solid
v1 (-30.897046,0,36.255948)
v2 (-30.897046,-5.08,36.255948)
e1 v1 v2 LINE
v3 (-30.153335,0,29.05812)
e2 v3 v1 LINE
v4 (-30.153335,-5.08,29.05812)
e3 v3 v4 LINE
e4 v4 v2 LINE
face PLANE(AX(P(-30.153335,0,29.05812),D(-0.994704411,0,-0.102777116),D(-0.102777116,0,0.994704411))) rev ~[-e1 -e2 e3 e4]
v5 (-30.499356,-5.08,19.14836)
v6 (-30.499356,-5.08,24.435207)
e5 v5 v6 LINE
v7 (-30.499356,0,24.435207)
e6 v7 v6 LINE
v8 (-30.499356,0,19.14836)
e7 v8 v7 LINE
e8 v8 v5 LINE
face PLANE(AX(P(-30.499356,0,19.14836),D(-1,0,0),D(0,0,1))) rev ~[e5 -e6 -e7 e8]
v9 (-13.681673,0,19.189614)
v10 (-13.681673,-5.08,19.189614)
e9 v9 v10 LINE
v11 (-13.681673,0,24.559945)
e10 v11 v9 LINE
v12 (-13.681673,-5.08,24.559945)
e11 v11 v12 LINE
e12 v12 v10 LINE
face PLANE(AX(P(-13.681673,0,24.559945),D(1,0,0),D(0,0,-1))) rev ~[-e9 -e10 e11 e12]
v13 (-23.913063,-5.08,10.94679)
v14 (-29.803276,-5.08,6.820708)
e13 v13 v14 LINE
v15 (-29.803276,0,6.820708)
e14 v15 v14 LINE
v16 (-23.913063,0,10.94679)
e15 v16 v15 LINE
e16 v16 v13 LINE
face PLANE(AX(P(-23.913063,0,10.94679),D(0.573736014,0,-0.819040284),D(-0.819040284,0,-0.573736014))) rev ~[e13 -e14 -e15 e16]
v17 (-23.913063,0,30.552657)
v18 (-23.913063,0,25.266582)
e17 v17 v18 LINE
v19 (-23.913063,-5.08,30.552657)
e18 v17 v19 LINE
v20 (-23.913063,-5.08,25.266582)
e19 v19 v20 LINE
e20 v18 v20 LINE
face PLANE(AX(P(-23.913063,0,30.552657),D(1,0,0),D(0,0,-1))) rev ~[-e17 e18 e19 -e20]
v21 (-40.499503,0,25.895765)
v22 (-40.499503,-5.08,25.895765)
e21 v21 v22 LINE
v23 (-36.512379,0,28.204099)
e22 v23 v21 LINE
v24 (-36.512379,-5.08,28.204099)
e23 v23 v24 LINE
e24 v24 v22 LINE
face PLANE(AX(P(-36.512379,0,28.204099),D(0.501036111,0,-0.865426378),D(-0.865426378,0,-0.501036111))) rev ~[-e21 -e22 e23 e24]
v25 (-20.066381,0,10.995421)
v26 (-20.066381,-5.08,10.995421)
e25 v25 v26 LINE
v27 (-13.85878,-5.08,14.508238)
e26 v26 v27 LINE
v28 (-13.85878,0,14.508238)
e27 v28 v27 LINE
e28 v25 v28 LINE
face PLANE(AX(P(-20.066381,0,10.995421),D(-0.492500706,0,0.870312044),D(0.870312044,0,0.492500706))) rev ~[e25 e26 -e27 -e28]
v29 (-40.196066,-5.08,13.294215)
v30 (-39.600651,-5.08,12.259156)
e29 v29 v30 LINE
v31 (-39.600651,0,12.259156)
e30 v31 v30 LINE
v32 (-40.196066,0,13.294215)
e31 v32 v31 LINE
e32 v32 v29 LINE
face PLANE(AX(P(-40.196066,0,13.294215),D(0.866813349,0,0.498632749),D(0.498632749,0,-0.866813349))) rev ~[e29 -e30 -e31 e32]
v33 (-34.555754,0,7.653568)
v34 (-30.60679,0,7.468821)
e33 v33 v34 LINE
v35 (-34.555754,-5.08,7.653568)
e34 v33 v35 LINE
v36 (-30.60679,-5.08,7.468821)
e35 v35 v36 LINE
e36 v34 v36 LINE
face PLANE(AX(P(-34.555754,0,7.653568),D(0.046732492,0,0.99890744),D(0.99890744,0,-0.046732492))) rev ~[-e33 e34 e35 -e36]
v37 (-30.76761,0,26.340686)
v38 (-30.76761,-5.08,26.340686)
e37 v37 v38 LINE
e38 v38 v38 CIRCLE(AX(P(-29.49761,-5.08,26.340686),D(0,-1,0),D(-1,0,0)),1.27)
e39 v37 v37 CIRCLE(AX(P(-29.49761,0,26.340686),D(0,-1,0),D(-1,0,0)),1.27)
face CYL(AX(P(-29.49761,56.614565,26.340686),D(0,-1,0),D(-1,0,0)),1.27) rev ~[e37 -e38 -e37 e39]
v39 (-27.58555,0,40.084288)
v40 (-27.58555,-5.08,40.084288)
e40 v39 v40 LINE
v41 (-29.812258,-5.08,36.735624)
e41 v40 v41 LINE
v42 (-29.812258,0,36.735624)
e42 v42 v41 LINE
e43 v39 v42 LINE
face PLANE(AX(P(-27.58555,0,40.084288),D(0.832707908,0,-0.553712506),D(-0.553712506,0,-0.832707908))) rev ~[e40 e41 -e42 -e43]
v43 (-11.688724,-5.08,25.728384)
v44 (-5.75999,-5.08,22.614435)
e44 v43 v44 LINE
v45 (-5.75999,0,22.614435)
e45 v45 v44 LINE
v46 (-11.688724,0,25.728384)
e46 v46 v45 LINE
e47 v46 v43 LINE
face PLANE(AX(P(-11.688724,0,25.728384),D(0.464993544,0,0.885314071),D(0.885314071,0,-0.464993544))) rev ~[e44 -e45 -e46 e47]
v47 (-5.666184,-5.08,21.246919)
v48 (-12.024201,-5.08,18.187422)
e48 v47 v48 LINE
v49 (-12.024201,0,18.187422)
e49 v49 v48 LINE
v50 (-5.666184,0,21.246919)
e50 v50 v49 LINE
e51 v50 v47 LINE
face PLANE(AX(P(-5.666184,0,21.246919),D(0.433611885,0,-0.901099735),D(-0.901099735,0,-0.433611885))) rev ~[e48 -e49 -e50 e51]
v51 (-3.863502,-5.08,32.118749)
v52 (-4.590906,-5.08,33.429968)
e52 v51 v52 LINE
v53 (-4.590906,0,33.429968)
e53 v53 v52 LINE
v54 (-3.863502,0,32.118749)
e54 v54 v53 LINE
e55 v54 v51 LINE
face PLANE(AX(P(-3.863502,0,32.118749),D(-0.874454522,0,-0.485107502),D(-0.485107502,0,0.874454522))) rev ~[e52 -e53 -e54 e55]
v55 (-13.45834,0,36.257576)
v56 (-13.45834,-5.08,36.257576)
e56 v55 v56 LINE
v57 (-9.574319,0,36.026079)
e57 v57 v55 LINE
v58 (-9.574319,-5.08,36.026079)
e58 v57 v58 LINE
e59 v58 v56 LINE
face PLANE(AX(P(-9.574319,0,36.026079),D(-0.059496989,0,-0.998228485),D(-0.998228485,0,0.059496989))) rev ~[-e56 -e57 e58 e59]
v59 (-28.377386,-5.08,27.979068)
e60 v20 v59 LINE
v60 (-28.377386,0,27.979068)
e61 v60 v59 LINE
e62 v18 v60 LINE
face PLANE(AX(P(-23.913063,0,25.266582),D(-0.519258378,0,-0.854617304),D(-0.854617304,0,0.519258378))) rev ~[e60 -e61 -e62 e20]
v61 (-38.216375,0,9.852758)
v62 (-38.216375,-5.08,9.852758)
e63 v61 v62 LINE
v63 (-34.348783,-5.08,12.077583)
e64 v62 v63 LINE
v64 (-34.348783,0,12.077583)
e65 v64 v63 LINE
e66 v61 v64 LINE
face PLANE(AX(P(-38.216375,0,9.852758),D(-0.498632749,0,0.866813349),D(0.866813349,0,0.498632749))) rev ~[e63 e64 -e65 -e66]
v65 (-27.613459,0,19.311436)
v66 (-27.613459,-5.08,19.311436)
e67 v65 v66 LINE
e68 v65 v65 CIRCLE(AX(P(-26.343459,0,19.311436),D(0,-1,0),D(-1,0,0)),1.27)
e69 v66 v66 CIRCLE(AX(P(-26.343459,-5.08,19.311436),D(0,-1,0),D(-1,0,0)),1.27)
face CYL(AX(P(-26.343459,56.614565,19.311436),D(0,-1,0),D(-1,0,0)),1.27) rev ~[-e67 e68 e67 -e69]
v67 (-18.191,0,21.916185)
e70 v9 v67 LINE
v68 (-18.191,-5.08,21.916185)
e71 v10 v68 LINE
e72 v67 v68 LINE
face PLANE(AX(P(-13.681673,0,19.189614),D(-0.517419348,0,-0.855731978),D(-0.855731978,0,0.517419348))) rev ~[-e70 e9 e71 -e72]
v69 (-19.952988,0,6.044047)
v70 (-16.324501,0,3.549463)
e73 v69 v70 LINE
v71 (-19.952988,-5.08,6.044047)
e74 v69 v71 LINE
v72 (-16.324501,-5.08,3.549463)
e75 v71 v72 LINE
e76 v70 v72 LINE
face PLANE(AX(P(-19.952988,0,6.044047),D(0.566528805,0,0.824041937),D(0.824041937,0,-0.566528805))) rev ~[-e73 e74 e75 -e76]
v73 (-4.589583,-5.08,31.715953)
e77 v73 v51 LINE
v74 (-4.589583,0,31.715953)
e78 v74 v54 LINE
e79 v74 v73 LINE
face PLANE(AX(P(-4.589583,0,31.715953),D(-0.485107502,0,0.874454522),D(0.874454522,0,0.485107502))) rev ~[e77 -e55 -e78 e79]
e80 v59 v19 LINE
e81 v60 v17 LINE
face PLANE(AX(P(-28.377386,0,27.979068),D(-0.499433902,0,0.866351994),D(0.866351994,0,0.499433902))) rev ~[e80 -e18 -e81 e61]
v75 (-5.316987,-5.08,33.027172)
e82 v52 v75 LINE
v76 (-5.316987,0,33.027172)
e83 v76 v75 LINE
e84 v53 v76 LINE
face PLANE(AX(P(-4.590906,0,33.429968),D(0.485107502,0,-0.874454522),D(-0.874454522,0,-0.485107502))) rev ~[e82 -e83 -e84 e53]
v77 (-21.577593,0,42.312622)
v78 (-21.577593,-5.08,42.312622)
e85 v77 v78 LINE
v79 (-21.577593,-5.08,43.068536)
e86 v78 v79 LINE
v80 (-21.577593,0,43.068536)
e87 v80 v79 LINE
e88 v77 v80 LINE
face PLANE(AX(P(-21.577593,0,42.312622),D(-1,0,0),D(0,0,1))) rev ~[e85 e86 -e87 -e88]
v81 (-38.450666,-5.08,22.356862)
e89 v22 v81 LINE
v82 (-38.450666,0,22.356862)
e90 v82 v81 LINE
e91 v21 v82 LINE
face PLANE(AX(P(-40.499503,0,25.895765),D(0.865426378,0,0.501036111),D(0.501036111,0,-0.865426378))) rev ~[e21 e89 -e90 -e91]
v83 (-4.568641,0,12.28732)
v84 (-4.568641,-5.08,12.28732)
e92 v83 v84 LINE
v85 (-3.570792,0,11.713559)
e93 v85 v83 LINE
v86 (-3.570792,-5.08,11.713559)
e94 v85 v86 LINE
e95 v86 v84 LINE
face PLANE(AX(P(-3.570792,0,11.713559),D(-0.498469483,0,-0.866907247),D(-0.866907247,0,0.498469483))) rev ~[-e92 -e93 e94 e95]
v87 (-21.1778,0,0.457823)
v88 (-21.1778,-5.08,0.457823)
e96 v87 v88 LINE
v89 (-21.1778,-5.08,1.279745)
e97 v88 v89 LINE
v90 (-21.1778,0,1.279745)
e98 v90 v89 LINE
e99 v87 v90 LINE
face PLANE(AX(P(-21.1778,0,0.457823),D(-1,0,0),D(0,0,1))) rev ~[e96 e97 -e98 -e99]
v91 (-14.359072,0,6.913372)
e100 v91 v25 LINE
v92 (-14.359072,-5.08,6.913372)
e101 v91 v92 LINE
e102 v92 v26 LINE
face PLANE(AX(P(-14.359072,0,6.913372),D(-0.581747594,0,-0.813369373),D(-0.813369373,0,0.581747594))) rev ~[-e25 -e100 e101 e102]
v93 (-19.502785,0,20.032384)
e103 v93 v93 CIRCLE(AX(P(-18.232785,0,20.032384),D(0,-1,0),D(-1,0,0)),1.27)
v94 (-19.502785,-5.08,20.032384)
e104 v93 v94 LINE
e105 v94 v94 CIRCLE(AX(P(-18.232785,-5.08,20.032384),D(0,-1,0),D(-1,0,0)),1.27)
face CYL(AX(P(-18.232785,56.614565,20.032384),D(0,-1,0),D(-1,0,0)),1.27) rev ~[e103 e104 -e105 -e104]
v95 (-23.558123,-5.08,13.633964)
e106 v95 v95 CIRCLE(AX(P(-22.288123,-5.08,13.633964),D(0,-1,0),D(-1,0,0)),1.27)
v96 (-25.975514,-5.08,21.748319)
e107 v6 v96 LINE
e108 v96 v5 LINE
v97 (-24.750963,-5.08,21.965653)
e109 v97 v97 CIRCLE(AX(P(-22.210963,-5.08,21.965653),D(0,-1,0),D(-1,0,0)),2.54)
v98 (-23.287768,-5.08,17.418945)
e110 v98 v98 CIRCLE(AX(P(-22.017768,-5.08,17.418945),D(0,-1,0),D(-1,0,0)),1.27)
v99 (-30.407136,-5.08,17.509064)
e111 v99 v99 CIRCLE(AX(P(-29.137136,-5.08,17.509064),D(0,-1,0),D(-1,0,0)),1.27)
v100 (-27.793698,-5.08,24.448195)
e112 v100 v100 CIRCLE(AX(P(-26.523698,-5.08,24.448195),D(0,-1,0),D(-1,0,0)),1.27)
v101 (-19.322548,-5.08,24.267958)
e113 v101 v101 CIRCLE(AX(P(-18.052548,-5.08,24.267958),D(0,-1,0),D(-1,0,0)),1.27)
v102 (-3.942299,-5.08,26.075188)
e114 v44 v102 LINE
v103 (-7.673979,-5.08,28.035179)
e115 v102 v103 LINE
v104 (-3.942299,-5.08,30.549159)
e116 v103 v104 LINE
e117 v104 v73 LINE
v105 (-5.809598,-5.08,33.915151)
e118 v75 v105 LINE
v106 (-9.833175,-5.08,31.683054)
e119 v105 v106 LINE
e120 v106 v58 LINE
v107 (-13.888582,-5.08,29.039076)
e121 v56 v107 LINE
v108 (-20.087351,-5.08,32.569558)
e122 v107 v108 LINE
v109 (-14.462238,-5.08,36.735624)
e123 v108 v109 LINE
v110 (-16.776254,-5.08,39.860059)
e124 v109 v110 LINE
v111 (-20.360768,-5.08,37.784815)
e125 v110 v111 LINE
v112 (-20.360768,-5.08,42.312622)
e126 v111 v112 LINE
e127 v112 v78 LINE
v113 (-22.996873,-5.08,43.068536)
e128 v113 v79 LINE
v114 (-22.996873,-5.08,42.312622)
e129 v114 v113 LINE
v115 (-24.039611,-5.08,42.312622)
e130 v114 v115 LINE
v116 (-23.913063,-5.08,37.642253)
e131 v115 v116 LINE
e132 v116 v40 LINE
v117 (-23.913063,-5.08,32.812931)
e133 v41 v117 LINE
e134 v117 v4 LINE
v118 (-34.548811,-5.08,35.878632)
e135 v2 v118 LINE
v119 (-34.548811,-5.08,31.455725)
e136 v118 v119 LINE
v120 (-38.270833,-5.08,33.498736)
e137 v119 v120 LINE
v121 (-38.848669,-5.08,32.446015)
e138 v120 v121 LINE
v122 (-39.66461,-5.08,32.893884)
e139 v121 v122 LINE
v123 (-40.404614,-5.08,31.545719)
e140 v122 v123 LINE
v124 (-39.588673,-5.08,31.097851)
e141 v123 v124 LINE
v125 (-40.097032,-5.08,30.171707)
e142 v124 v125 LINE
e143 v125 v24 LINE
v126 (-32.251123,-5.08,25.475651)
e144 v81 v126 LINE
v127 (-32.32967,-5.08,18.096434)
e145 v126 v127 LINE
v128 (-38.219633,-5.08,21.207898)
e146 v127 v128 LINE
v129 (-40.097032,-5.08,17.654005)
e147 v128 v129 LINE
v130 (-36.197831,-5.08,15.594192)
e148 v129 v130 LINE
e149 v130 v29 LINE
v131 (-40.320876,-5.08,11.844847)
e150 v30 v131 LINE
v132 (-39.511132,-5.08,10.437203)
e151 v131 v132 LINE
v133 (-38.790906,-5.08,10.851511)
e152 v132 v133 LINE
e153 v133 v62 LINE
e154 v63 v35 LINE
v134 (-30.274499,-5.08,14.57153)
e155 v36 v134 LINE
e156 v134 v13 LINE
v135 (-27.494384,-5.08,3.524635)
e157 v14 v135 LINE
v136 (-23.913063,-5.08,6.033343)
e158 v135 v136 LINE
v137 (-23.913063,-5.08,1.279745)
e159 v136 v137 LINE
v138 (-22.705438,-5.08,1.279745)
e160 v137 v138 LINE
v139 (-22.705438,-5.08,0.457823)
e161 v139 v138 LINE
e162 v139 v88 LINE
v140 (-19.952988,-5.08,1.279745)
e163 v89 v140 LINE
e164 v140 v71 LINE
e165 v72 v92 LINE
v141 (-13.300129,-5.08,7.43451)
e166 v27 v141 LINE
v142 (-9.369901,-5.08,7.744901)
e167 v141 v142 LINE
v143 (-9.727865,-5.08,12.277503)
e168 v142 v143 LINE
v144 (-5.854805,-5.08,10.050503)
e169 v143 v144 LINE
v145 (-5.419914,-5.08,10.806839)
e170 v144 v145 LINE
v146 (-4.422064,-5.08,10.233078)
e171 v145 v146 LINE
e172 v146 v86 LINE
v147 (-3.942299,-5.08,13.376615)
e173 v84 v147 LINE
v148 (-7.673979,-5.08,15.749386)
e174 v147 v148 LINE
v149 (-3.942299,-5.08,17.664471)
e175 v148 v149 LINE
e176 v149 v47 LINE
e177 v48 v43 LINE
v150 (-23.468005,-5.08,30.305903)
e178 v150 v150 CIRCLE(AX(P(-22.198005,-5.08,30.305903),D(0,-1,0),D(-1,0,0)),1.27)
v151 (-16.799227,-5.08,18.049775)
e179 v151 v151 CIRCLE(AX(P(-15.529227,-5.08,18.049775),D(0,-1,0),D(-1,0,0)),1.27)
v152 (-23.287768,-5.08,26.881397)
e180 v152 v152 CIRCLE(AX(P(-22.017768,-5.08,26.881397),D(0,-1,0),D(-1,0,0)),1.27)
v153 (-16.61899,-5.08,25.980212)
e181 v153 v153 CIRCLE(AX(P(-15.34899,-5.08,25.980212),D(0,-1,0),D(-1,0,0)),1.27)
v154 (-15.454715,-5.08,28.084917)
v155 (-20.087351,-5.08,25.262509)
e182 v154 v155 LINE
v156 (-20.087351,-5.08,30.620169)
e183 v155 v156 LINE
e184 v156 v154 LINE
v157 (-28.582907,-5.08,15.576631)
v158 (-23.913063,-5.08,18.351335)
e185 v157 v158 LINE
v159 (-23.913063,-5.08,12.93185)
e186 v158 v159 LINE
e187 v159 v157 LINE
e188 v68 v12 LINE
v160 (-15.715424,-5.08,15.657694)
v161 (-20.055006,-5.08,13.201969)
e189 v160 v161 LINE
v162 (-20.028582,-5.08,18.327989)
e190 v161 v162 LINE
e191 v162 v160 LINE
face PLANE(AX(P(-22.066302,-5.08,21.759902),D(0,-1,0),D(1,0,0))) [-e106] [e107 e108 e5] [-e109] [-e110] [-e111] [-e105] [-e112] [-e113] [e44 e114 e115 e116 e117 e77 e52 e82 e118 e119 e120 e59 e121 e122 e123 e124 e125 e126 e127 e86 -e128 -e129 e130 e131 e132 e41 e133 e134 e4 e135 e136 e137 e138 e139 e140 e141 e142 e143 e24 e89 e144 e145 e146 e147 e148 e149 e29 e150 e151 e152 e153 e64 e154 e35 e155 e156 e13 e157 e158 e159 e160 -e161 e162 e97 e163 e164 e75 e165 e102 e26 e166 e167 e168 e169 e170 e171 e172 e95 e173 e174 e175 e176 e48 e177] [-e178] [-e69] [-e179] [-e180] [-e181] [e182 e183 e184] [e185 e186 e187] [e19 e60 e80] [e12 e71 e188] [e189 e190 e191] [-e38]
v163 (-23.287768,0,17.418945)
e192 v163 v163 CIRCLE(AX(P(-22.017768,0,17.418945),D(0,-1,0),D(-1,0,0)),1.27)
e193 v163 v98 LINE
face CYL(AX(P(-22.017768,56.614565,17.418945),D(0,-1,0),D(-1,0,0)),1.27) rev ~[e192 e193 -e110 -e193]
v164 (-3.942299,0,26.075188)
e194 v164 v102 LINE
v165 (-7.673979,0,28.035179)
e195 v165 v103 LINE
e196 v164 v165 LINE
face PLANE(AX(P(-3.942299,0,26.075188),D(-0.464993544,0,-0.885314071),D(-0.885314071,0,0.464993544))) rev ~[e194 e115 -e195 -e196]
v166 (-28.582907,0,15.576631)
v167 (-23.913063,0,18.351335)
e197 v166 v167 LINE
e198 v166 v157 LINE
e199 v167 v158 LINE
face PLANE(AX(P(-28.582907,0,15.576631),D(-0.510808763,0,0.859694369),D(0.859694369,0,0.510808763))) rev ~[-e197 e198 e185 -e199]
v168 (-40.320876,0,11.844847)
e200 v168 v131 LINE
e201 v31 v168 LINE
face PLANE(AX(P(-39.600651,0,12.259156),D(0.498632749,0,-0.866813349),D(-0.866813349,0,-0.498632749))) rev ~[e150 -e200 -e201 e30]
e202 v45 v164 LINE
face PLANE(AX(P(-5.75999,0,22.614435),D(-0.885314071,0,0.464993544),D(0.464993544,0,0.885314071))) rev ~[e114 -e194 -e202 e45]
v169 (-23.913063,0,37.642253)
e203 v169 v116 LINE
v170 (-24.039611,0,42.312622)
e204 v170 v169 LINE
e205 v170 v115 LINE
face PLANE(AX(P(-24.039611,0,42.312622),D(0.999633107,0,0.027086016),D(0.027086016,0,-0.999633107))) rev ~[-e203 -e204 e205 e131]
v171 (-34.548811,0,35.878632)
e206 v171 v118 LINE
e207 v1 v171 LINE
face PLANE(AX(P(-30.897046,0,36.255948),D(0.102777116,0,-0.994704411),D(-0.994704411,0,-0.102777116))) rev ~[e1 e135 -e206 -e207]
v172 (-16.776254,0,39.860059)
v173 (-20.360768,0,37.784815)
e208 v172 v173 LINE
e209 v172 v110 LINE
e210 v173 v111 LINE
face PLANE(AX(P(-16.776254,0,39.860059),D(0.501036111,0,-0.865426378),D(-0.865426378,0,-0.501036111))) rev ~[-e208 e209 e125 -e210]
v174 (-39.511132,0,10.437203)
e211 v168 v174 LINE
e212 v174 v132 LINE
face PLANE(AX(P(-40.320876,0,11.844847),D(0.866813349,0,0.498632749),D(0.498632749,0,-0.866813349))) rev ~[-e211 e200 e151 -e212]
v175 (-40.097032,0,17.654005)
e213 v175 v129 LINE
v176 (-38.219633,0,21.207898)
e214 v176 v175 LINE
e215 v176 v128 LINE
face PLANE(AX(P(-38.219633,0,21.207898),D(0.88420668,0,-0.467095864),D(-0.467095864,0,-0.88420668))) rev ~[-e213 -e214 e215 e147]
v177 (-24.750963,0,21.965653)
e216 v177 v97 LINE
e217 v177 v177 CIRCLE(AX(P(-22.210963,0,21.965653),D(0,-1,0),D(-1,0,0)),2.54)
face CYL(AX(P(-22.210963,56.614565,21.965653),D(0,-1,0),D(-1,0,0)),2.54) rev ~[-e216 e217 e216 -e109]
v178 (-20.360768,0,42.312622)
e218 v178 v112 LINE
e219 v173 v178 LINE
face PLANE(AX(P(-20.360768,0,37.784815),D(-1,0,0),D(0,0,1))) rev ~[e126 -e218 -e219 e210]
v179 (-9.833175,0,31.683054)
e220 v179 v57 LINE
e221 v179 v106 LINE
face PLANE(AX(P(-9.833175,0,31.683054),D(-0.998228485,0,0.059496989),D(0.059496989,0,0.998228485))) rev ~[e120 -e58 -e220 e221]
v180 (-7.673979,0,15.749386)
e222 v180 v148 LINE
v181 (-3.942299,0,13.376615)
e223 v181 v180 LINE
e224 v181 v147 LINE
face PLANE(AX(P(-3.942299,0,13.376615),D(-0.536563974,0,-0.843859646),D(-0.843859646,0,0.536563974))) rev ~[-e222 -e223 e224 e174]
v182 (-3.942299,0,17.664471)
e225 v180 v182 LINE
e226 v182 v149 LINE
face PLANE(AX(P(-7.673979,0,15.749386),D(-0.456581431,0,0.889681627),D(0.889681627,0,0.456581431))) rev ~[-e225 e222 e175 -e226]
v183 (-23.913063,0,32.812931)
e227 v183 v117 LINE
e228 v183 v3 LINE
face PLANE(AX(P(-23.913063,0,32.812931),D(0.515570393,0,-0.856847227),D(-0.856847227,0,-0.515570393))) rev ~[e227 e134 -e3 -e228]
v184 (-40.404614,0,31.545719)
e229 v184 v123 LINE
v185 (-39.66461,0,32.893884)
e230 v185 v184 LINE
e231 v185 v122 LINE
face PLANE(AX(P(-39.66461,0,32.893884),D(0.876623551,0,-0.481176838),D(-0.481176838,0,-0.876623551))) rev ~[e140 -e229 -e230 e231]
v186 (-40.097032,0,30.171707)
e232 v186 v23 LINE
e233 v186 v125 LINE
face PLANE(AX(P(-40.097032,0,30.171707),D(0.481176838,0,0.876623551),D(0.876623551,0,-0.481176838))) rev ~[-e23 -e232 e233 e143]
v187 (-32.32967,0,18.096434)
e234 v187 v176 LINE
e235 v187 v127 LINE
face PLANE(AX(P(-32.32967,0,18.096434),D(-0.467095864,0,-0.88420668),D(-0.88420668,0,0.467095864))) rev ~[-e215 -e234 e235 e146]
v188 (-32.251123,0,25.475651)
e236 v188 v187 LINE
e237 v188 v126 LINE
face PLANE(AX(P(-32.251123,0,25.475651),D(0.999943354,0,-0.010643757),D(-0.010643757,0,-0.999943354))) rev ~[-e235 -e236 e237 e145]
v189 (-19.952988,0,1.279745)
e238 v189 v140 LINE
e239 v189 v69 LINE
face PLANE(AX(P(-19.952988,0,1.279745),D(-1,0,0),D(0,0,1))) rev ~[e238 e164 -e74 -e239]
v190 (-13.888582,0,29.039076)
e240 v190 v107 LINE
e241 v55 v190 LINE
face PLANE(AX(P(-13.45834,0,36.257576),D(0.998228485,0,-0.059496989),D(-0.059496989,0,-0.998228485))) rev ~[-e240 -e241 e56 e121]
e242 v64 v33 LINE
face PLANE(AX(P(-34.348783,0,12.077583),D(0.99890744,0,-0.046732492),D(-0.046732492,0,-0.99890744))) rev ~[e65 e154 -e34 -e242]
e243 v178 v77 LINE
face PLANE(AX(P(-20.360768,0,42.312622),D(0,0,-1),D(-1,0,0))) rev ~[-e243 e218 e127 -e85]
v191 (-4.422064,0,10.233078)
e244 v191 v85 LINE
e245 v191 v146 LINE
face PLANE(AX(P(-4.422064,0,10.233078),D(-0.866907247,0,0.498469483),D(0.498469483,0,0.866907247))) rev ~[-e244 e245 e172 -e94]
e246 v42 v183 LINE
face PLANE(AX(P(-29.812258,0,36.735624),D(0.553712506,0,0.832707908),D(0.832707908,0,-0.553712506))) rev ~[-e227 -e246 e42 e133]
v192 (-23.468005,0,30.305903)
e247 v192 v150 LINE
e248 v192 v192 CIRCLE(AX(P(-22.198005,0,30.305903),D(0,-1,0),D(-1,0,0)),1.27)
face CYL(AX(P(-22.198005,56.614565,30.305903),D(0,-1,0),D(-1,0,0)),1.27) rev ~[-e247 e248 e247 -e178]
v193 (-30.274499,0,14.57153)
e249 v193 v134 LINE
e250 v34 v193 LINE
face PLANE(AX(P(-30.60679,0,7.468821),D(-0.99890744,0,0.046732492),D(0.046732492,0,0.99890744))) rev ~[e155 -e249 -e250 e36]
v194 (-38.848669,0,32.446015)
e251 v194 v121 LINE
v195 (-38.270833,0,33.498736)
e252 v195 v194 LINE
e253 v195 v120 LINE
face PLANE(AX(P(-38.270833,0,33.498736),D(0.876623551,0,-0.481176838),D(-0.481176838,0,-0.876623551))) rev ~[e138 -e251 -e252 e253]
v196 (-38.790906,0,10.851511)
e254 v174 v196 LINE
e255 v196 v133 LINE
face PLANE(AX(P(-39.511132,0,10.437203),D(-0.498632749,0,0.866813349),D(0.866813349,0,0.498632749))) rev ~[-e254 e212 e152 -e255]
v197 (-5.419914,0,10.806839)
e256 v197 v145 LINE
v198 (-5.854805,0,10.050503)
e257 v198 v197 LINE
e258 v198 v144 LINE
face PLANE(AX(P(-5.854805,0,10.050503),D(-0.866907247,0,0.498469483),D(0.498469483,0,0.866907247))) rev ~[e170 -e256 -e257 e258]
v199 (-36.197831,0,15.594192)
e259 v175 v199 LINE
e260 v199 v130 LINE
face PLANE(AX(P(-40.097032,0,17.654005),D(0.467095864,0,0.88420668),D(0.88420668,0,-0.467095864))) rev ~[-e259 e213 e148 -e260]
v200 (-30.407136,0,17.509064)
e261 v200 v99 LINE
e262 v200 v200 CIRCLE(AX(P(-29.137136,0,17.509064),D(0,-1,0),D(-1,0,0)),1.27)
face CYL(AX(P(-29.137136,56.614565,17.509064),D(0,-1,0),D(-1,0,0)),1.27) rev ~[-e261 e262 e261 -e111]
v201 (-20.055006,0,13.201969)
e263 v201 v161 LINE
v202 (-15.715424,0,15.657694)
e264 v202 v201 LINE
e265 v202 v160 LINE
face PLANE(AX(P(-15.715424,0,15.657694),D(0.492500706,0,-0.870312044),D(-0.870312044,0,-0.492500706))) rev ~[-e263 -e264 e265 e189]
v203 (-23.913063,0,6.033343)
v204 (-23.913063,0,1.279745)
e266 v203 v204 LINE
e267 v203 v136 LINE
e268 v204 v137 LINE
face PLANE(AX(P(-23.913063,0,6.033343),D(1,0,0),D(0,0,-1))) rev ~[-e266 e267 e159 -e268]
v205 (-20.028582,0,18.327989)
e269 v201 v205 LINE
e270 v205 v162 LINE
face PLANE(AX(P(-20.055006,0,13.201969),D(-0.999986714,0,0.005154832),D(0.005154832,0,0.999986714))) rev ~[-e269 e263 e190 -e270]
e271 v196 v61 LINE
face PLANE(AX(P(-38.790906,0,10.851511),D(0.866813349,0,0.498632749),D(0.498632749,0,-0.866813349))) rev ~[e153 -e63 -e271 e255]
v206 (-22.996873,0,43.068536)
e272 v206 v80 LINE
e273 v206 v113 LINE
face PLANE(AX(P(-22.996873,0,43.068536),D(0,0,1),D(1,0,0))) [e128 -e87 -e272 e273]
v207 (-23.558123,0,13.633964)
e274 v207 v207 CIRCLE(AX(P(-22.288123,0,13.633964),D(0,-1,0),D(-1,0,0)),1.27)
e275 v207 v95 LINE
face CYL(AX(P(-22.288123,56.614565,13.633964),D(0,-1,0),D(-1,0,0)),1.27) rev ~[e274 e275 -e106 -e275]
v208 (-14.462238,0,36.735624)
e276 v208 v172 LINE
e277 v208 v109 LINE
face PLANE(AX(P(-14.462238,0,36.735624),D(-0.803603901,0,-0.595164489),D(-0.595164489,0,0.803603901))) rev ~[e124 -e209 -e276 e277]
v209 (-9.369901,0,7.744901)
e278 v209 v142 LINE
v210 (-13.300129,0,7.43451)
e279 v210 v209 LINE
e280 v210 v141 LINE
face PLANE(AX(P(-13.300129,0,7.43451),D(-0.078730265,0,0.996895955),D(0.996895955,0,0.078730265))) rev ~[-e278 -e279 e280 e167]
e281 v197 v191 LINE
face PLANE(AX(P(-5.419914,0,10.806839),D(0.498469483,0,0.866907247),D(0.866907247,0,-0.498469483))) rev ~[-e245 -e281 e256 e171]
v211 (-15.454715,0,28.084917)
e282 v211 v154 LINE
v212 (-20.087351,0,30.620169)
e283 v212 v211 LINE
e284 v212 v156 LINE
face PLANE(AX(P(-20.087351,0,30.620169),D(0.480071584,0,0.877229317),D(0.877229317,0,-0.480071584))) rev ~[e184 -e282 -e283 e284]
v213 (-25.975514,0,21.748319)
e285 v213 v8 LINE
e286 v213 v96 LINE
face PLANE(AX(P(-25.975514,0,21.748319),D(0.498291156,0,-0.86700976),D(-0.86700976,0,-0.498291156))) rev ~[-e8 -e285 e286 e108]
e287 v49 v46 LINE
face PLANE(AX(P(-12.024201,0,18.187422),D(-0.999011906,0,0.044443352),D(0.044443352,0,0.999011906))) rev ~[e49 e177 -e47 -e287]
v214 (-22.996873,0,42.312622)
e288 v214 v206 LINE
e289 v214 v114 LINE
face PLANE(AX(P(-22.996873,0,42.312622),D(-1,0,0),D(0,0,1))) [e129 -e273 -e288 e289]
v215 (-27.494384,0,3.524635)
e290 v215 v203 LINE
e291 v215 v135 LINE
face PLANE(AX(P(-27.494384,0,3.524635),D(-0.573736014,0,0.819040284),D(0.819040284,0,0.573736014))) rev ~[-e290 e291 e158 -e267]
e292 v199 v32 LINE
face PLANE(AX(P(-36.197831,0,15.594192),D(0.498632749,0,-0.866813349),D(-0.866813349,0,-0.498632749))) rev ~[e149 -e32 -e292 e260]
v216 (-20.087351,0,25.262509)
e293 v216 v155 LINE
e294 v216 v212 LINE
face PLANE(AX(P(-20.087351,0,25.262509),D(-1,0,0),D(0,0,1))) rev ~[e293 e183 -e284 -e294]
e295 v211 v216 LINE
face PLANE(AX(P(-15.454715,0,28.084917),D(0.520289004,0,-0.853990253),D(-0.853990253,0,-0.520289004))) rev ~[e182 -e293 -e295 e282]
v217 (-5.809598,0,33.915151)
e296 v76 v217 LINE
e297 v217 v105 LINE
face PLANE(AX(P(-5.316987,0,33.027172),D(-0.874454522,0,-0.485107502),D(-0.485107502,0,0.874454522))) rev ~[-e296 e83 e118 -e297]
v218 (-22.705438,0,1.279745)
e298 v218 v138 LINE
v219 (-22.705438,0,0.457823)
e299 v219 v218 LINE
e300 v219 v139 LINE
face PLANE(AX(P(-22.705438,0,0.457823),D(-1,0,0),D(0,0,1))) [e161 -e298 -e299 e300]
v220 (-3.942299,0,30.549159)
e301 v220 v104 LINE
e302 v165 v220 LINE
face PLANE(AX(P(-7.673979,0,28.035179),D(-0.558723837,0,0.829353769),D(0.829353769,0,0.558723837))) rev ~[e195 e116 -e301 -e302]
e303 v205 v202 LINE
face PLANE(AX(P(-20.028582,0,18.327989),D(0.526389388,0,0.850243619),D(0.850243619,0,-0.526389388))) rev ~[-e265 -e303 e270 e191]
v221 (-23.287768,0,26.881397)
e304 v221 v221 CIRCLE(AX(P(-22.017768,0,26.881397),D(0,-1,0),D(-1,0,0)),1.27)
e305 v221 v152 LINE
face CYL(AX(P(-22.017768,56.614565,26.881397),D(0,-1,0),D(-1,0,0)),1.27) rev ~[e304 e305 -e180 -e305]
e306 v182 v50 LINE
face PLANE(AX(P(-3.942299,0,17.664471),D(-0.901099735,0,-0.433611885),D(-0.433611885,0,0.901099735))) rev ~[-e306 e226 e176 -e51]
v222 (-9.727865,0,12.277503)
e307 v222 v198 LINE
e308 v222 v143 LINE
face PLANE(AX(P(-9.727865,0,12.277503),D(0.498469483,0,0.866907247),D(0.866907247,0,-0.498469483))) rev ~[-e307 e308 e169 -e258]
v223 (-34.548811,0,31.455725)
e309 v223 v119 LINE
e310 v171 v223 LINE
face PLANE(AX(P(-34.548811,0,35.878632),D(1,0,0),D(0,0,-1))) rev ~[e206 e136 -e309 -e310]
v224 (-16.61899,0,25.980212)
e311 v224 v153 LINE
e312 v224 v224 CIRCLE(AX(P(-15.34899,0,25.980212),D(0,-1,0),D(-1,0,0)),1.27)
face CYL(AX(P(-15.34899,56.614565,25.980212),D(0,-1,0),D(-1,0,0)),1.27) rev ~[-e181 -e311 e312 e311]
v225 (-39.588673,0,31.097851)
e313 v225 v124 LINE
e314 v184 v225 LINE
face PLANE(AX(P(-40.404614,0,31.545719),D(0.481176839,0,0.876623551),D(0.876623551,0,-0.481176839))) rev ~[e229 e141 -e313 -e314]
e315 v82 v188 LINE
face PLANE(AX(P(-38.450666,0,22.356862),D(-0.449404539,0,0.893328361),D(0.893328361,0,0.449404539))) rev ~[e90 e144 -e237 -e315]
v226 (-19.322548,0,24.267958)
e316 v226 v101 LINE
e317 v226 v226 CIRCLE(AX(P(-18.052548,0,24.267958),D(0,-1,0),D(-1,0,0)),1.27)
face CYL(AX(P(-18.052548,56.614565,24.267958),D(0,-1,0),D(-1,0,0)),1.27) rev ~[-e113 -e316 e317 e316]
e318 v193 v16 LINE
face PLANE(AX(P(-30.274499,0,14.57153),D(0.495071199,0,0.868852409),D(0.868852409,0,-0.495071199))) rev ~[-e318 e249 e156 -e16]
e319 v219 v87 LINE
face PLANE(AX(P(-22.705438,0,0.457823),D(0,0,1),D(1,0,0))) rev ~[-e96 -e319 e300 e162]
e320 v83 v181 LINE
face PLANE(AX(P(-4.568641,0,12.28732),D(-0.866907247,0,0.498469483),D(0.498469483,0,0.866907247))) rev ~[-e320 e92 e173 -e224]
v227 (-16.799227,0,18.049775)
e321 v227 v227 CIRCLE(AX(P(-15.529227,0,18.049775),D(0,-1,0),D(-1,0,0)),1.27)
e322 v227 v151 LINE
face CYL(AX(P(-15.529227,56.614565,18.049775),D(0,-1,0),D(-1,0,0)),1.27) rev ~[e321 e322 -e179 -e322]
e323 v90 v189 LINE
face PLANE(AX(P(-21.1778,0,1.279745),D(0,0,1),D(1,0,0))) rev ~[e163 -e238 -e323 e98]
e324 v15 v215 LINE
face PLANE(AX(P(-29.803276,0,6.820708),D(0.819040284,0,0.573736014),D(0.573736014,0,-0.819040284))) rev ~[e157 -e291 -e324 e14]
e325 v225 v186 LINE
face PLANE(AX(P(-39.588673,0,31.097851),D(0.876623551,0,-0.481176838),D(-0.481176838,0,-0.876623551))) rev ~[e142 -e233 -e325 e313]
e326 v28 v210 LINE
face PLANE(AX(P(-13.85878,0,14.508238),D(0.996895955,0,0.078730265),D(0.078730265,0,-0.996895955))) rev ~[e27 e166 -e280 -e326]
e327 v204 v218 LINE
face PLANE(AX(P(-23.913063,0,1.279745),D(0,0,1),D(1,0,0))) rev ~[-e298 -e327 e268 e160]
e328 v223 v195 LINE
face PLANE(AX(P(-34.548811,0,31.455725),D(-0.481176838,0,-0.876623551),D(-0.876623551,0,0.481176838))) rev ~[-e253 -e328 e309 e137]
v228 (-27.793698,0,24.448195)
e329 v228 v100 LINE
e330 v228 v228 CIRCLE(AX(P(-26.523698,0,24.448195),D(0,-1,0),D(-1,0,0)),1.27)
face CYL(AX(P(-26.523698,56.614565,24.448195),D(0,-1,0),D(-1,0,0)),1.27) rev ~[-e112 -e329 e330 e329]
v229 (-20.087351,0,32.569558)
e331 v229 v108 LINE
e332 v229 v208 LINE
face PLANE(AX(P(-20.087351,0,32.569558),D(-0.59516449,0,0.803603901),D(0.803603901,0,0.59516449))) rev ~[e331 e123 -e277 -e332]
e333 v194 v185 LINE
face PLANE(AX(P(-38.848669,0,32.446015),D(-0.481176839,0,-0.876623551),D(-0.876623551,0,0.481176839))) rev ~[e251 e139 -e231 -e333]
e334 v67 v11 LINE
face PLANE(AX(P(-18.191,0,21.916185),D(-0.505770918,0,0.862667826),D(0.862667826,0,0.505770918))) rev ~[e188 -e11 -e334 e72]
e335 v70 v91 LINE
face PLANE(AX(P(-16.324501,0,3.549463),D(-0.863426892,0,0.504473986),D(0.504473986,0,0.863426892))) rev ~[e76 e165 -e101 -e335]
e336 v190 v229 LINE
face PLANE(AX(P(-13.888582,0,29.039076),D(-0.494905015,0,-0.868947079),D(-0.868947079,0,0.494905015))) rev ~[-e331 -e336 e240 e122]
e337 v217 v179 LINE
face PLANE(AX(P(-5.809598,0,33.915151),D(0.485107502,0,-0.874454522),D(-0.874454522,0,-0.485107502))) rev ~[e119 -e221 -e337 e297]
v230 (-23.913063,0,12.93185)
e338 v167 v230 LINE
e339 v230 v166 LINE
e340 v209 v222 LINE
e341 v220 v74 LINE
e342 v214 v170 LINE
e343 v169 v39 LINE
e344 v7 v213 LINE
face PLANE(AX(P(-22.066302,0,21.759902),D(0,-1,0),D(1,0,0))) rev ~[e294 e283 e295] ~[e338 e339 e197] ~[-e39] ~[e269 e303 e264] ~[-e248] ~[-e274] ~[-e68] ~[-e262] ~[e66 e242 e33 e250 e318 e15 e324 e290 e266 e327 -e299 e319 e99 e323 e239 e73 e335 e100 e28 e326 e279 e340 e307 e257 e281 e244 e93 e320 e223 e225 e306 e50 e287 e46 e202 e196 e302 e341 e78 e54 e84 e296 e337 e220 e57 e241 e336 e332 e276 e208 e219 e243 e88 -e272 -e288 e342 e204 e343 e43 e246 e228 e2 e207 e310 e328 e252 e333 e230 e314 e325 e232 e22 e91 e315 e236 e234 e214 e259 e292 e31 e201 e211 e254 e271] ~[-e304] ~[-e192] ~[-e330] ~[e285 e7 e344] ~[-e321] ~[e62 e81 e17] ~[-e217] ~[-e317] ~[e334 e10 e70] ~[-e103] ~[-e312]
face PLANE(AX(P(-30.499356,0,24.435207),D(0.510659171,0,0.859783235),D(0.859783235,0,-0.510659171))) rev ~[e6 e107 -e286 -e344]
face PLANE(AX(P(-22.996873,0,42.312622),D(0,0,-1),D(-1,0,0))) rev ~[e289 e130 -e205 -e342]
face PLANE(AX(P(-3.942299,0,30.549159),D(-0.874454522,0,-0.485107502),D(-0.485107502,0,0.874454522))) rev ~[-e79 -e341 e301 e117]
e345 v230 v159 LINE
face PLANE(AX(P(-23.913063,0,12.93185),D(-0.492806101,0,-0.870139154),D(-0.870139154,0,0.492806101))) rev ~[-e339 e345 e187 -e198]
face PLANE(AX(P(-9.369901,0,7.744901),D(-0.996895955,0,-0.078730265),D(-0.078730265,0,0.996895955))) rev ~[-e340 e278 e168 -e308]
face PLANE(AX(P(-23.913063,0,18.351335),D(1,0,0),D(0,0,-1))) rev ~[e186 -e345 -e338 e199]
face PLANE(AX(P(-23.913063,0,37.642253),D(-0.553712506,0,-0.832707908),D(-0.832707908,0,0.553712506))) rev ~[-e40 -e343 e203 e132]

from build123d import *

# Parameters (mm, degrees)
F0_W     = 1.4192797244
F0_H     = 0.7559135556
F0_W_2   = 1.5276372433
F0_H_2   = 0.821922149
F1_DEPTH = 5.08
F3_D     = 5.08
F16_D    = 2.54
F17_D    = 2.54
F18_D    = 2.54
F19_D    = 2.54
F20_D    = 2.54
F21_D    = 2.54
F22_D    = 2.54
F23_D    = 2.54
F24_D    = 2.54
F25_D    = 2.54
F26_D    = 2.54
F27_D    = 2.54


with BuildPart() as f1:
    # F0 (on Front) → F1 (new body)
    with BuildSketch(Plane.XZ):
        Polygon((-22.9968726635, 42.3126220703), (-24.0396112204, 42.3126220703), (-23.9130631089, 37.6422533683), (-27.5855498346, 40.0842883347), (-29.8122577369, 36.7356240749), (-23.9130631089, 32.8129306436), (-23.9130631089, 30.5526573211), (-23.9130631089, 25.2665821463), (-28.3773863184, 27.9790678606), (-30.1533350523, 29.0581195654), (-30.897045508, 36.2559482455), (-34.5488109312, 35.8786322176), (-34.5488109312, 31.4557254833), (-38.2708328584, 33.4987355549), (-38.8486688201, 32.4460152822), (-39.5886734839, 31.0978508149), (-40.0970317423, 30.1717072725), (-36.5123793412, 28.2040990472), (-40.4995033926, 25.8957650515), (-38.450665772, 22.3568622023), (-32.2511233389, 25.4756510258), (-30.4993555618, 24.4352070583), (-25.9755142033, 21.7483192682), (-30.4993555618, 19.148359909), (-32.3296703771, 18.0964343976), (-38.2196328624, 21.207898243), (-40.0970317423, 17.6540054381), (-36.1978308162, 15.5941921986), (-40.1960664707, 13.2942146556), (-39.6006508042, 12.2591557897), (-38.790906044, 10.8515114494), (-38.2163748145, 9.8527576774), (-34.3487829088, 12.0775826495), (-34.5557542526, 7.6535682905), (-30.6067895144, 7.4688214809), (-30.2744992077, 14.5715298131), (-28.5829074003, 15.5766311017), (-23.9130631089, 18.3513350785), (-23.9130631089, 12.9318498075), (-23.9130631089, 10.946790142), (-29.8032763032, 6.8207080641), (-27.4943839759, 3.5246349871), (-23.9130631089, 6.0333427973), (-23.9130631089, 1.2797450181), (-22.7054376155, 1.2797450181), (-21.1778003722, 1.2797450181), (-19.952988252, 1.2797450181), (-19.952988252, 6.044047419), (-16.3245014846, 3.5494628828), (-14.3590718508, 6.9133723155), (-20.0663805008, 10.9954206273), (-20.0550059627, 13.2019692024), (-20.0285818428, 18.3279886842), (-15.7154238075, 15.6576944664), (-13.8587799241, 14.5082384562), (-13.3001293296, 7.4345099906), (-9.3699013814, 7.7449013479), (-9.7278654156, 12.2775025894), (-5.8548050001, 10.0505026057), (-5.4199136441, 10.8068387119), (-4.568640864, 12.2873195971), (-3.9422987452, 13.3766150102), (-7.6739792712, 15.7493855804), (-3.9422987452, 17.6644706865), (-5.6661837734, 21.2469194084), (-12.0242014527, 18.1874223053), (-13.6816729537, 19.189614399), (-18.1910004467, 21.9161845744), (-13.6816729537, 24.5599445899), (-11.6887243355, 25.7283844245), (-5.7599901473, 22.6144351328), (-3.9422987452, 26.0751880705), (-7.6739792712, 28.0351787806), (-3.9422987452, 30.5491588676), (-4.5895827798, 31.7159527215), (-5.3169873732, 33.0271718518), (-5.809597671, 33.9151509106), (-9.8331745535, 31.6830538959), (-9.5743191002, 36.0260785228), (-13.4583404288, 36.2575761974), (-13.8885816559, 29.0390755981), (-15.4547147461, 28.084917372), (-20.0873508675, 25.2625085413), (-20.0873508675, 30.6201688945), (-20.0873508675, 32.5695575383), (-14.4622381777, 36.7356240749), (-16.7762544006, 39.8600585759), (-20.3607678413, 37.7848148346), (-20.3607678413, 42.3126220703), (-21.5775929391, 42.3126220703), align=None)
        with Locations((-22.2872328013, 42.6905788481)):
            Rectangle(F0_W, F0_H)
        Polygon((-23.9130631089, 30.5526573211), (-23.9130631089, 32.8129306436), (-30.1533350523, 29.0581195654), (-28.3773863184, 27.9790678606), align=None)
        Polygon((-13.8885816559, 29.0390755981), (-20.0873508675, 32.5695575383), (-20.0873508675, 30.6201688945), (-15.4547147461, 28.084917372), align=None)
        Polygon((-39.5886734839, 31.0978508149), (-38.8486688201, 32.4460152822), (-39.664609785, 32.8938835758), (-40.4046144488, 31.5457191085), align=None)
        Polygon((-4.5909064128, 33.4299684657), (-5.3169873732, 33.0271718518), (-4.5895827798, 31.7159527215), (-3.8635018193, 32.1187493355), align=None)
        Polygon((-30.4993555618, 24.4352070583), (-32.2511233389, 25.4756510258), (-32.3296703771, 18.0964343976), (-30.4993555618, 19.148359909), align=None)
        Polygon((-12.0242014527, 18.1874223053), (-11.6887243355, 25.7283844245), (-13.6816729537, 24.5599445899), (-13.6816729537, 19.189614399), align=None)
        Polygon((-38.790906044, 10.8515114494), (-39.6006508042, 12.2591557897), (-40.3208764938, 11.8448473159), (-39.5111317337, 10.4372029756), align=None)
        Polygon((-3.5707916424, 11.713558808), (-4.568640864, 12.2873195971), (-5.4199136441, 10.8068387119), (-4.4220644224, 10.2330779228), align=None)
        Polygon((-28.5829074003, 15.5766311017), (-30.2744992077, 14.5715298131), (-23.9130631089, 10.946790142), (-23.9130631089, 12.9318498075), align=None)
        Polygon((-20.0663805008, 10.9954206273), (-13.8587799241, 14.5082384562), (-15.7154238075, 15.6576944664), (-20.0550059627, 13.2019692024), align=None)
        with Locations((-21.9416189939, 0.8687839436)):
            Rectangle(F0_W_2, F0_H_2)
    extrude(amount=F1_DEPTH)

    # F3 (through all)
    with Locations(Plane(origin=(0, 0, 0), x_dir=(1, 0, 0), z_dir=(0, 1, 0))):
        with Locations((-22.2109630704, -21.9656527042)):
            Hole(F3_D / 2)

    # F16 (through all)
    with Locations(Plane(origin=(0, 0, 0), x_dir=(1, 0, 0), z_dir=(0, 1, 0))):
        with Locations((-22.1980046481, -30.305903405)):
            Hole(F16_D / 2)

    # F17 (through all)
    with Locations(Plane(origin=(0, 0, 0), x_dir=(1, 0, 0), z_dir=(0, 1, 0))):
        with Locations((-22.0177676529, -26.8813967705)):
            Hole(F17_D / 2)

    # F18 (through all)
    with Locations(Plane(origin=(0, 0, 0), x_dir=(1, 0, 0), z_dir=(0, 1, 0))):
        with Locations((-18.0525481701, -24.2679584771)):
            Hole(F18_D / 2)

    # F19 (through all)
    with Locations(Plane(origin=(0, 0, 0), x_dir=(1, 0, 0), z_dir=(0, 1, 0))):
        with Locations((-15.3489904478, -25.9802117944)):
            Hole(F19_D / 2)

    # F20 (through all)
    with Locations(Plane(origin=(0, 0, 0), x_dir=(1, 0, 0), z_dir=(0, 1, 0))):
        with Locations((-18.2327851653, -20.0323835015)):
            Hole(F20_D / 2)

    # F21 (through all)
    with Locations(Plane(origin=(0, 0, 0), x_dir=(1, 0, 0), z_dir=(0, 1, 0))):
        with Locations((-15.529227443, -18.0497746915)):
            Hole(F21_D / 2)

    # F22 (through all)
    with Locations(Plane(origin=(0, 0, 0), x_dir=(1, 0, 0), z_dir=(0, 1, 0))):
        with Locations((-22.0177676529, -17.4189452082)):
            Hole(F22_D / 2)

    # F23 (through all)
    with Locations(Plane(origin=(0, 0, 0), x_dir=(1, 0, 0), z_dir=(0, 1, 0))):
        with Locations((-22.2881231457, -13.633963652)):
            Hole(F23_D / 2)

    # F24 (through all)
    with Locations(Plane(origin=(0, 0, 0), x_dir=(1, 0, 0), z_dir=(0, 1, 0))):
        with Locations((-26.3434592634, -19.3114355206)):
            Hole(F24_D / 2)

    # F25 (through all)
    with Locations(Plane(origin=(0, 0, 0), x_dir=(1, 0, 0), z_dir=(0, 1, 0))):
        with Locations((-29.1371364146, -17.5090637058)):
            Hole(F25_D / 2)

    # F26 (through all)
    with Locations(Plane(origin=(0, 0, 0), x_dir=(1, 0, 0), z_dir=(0, 1, 0))):
        with Locations((-26.5236981213, -24.4481954724)):
            Hole(F26_D / 2)

    # F27 (through all)
    with Locations(Plane(origin=(0, 0, 0), x_dir=(1, 0, 0), z_dir=(0, 1, 0))):
        with Locations((-29.4976104051, -26.3406857848)):
            Hole(F27_D / 2)


solid = f1.part
